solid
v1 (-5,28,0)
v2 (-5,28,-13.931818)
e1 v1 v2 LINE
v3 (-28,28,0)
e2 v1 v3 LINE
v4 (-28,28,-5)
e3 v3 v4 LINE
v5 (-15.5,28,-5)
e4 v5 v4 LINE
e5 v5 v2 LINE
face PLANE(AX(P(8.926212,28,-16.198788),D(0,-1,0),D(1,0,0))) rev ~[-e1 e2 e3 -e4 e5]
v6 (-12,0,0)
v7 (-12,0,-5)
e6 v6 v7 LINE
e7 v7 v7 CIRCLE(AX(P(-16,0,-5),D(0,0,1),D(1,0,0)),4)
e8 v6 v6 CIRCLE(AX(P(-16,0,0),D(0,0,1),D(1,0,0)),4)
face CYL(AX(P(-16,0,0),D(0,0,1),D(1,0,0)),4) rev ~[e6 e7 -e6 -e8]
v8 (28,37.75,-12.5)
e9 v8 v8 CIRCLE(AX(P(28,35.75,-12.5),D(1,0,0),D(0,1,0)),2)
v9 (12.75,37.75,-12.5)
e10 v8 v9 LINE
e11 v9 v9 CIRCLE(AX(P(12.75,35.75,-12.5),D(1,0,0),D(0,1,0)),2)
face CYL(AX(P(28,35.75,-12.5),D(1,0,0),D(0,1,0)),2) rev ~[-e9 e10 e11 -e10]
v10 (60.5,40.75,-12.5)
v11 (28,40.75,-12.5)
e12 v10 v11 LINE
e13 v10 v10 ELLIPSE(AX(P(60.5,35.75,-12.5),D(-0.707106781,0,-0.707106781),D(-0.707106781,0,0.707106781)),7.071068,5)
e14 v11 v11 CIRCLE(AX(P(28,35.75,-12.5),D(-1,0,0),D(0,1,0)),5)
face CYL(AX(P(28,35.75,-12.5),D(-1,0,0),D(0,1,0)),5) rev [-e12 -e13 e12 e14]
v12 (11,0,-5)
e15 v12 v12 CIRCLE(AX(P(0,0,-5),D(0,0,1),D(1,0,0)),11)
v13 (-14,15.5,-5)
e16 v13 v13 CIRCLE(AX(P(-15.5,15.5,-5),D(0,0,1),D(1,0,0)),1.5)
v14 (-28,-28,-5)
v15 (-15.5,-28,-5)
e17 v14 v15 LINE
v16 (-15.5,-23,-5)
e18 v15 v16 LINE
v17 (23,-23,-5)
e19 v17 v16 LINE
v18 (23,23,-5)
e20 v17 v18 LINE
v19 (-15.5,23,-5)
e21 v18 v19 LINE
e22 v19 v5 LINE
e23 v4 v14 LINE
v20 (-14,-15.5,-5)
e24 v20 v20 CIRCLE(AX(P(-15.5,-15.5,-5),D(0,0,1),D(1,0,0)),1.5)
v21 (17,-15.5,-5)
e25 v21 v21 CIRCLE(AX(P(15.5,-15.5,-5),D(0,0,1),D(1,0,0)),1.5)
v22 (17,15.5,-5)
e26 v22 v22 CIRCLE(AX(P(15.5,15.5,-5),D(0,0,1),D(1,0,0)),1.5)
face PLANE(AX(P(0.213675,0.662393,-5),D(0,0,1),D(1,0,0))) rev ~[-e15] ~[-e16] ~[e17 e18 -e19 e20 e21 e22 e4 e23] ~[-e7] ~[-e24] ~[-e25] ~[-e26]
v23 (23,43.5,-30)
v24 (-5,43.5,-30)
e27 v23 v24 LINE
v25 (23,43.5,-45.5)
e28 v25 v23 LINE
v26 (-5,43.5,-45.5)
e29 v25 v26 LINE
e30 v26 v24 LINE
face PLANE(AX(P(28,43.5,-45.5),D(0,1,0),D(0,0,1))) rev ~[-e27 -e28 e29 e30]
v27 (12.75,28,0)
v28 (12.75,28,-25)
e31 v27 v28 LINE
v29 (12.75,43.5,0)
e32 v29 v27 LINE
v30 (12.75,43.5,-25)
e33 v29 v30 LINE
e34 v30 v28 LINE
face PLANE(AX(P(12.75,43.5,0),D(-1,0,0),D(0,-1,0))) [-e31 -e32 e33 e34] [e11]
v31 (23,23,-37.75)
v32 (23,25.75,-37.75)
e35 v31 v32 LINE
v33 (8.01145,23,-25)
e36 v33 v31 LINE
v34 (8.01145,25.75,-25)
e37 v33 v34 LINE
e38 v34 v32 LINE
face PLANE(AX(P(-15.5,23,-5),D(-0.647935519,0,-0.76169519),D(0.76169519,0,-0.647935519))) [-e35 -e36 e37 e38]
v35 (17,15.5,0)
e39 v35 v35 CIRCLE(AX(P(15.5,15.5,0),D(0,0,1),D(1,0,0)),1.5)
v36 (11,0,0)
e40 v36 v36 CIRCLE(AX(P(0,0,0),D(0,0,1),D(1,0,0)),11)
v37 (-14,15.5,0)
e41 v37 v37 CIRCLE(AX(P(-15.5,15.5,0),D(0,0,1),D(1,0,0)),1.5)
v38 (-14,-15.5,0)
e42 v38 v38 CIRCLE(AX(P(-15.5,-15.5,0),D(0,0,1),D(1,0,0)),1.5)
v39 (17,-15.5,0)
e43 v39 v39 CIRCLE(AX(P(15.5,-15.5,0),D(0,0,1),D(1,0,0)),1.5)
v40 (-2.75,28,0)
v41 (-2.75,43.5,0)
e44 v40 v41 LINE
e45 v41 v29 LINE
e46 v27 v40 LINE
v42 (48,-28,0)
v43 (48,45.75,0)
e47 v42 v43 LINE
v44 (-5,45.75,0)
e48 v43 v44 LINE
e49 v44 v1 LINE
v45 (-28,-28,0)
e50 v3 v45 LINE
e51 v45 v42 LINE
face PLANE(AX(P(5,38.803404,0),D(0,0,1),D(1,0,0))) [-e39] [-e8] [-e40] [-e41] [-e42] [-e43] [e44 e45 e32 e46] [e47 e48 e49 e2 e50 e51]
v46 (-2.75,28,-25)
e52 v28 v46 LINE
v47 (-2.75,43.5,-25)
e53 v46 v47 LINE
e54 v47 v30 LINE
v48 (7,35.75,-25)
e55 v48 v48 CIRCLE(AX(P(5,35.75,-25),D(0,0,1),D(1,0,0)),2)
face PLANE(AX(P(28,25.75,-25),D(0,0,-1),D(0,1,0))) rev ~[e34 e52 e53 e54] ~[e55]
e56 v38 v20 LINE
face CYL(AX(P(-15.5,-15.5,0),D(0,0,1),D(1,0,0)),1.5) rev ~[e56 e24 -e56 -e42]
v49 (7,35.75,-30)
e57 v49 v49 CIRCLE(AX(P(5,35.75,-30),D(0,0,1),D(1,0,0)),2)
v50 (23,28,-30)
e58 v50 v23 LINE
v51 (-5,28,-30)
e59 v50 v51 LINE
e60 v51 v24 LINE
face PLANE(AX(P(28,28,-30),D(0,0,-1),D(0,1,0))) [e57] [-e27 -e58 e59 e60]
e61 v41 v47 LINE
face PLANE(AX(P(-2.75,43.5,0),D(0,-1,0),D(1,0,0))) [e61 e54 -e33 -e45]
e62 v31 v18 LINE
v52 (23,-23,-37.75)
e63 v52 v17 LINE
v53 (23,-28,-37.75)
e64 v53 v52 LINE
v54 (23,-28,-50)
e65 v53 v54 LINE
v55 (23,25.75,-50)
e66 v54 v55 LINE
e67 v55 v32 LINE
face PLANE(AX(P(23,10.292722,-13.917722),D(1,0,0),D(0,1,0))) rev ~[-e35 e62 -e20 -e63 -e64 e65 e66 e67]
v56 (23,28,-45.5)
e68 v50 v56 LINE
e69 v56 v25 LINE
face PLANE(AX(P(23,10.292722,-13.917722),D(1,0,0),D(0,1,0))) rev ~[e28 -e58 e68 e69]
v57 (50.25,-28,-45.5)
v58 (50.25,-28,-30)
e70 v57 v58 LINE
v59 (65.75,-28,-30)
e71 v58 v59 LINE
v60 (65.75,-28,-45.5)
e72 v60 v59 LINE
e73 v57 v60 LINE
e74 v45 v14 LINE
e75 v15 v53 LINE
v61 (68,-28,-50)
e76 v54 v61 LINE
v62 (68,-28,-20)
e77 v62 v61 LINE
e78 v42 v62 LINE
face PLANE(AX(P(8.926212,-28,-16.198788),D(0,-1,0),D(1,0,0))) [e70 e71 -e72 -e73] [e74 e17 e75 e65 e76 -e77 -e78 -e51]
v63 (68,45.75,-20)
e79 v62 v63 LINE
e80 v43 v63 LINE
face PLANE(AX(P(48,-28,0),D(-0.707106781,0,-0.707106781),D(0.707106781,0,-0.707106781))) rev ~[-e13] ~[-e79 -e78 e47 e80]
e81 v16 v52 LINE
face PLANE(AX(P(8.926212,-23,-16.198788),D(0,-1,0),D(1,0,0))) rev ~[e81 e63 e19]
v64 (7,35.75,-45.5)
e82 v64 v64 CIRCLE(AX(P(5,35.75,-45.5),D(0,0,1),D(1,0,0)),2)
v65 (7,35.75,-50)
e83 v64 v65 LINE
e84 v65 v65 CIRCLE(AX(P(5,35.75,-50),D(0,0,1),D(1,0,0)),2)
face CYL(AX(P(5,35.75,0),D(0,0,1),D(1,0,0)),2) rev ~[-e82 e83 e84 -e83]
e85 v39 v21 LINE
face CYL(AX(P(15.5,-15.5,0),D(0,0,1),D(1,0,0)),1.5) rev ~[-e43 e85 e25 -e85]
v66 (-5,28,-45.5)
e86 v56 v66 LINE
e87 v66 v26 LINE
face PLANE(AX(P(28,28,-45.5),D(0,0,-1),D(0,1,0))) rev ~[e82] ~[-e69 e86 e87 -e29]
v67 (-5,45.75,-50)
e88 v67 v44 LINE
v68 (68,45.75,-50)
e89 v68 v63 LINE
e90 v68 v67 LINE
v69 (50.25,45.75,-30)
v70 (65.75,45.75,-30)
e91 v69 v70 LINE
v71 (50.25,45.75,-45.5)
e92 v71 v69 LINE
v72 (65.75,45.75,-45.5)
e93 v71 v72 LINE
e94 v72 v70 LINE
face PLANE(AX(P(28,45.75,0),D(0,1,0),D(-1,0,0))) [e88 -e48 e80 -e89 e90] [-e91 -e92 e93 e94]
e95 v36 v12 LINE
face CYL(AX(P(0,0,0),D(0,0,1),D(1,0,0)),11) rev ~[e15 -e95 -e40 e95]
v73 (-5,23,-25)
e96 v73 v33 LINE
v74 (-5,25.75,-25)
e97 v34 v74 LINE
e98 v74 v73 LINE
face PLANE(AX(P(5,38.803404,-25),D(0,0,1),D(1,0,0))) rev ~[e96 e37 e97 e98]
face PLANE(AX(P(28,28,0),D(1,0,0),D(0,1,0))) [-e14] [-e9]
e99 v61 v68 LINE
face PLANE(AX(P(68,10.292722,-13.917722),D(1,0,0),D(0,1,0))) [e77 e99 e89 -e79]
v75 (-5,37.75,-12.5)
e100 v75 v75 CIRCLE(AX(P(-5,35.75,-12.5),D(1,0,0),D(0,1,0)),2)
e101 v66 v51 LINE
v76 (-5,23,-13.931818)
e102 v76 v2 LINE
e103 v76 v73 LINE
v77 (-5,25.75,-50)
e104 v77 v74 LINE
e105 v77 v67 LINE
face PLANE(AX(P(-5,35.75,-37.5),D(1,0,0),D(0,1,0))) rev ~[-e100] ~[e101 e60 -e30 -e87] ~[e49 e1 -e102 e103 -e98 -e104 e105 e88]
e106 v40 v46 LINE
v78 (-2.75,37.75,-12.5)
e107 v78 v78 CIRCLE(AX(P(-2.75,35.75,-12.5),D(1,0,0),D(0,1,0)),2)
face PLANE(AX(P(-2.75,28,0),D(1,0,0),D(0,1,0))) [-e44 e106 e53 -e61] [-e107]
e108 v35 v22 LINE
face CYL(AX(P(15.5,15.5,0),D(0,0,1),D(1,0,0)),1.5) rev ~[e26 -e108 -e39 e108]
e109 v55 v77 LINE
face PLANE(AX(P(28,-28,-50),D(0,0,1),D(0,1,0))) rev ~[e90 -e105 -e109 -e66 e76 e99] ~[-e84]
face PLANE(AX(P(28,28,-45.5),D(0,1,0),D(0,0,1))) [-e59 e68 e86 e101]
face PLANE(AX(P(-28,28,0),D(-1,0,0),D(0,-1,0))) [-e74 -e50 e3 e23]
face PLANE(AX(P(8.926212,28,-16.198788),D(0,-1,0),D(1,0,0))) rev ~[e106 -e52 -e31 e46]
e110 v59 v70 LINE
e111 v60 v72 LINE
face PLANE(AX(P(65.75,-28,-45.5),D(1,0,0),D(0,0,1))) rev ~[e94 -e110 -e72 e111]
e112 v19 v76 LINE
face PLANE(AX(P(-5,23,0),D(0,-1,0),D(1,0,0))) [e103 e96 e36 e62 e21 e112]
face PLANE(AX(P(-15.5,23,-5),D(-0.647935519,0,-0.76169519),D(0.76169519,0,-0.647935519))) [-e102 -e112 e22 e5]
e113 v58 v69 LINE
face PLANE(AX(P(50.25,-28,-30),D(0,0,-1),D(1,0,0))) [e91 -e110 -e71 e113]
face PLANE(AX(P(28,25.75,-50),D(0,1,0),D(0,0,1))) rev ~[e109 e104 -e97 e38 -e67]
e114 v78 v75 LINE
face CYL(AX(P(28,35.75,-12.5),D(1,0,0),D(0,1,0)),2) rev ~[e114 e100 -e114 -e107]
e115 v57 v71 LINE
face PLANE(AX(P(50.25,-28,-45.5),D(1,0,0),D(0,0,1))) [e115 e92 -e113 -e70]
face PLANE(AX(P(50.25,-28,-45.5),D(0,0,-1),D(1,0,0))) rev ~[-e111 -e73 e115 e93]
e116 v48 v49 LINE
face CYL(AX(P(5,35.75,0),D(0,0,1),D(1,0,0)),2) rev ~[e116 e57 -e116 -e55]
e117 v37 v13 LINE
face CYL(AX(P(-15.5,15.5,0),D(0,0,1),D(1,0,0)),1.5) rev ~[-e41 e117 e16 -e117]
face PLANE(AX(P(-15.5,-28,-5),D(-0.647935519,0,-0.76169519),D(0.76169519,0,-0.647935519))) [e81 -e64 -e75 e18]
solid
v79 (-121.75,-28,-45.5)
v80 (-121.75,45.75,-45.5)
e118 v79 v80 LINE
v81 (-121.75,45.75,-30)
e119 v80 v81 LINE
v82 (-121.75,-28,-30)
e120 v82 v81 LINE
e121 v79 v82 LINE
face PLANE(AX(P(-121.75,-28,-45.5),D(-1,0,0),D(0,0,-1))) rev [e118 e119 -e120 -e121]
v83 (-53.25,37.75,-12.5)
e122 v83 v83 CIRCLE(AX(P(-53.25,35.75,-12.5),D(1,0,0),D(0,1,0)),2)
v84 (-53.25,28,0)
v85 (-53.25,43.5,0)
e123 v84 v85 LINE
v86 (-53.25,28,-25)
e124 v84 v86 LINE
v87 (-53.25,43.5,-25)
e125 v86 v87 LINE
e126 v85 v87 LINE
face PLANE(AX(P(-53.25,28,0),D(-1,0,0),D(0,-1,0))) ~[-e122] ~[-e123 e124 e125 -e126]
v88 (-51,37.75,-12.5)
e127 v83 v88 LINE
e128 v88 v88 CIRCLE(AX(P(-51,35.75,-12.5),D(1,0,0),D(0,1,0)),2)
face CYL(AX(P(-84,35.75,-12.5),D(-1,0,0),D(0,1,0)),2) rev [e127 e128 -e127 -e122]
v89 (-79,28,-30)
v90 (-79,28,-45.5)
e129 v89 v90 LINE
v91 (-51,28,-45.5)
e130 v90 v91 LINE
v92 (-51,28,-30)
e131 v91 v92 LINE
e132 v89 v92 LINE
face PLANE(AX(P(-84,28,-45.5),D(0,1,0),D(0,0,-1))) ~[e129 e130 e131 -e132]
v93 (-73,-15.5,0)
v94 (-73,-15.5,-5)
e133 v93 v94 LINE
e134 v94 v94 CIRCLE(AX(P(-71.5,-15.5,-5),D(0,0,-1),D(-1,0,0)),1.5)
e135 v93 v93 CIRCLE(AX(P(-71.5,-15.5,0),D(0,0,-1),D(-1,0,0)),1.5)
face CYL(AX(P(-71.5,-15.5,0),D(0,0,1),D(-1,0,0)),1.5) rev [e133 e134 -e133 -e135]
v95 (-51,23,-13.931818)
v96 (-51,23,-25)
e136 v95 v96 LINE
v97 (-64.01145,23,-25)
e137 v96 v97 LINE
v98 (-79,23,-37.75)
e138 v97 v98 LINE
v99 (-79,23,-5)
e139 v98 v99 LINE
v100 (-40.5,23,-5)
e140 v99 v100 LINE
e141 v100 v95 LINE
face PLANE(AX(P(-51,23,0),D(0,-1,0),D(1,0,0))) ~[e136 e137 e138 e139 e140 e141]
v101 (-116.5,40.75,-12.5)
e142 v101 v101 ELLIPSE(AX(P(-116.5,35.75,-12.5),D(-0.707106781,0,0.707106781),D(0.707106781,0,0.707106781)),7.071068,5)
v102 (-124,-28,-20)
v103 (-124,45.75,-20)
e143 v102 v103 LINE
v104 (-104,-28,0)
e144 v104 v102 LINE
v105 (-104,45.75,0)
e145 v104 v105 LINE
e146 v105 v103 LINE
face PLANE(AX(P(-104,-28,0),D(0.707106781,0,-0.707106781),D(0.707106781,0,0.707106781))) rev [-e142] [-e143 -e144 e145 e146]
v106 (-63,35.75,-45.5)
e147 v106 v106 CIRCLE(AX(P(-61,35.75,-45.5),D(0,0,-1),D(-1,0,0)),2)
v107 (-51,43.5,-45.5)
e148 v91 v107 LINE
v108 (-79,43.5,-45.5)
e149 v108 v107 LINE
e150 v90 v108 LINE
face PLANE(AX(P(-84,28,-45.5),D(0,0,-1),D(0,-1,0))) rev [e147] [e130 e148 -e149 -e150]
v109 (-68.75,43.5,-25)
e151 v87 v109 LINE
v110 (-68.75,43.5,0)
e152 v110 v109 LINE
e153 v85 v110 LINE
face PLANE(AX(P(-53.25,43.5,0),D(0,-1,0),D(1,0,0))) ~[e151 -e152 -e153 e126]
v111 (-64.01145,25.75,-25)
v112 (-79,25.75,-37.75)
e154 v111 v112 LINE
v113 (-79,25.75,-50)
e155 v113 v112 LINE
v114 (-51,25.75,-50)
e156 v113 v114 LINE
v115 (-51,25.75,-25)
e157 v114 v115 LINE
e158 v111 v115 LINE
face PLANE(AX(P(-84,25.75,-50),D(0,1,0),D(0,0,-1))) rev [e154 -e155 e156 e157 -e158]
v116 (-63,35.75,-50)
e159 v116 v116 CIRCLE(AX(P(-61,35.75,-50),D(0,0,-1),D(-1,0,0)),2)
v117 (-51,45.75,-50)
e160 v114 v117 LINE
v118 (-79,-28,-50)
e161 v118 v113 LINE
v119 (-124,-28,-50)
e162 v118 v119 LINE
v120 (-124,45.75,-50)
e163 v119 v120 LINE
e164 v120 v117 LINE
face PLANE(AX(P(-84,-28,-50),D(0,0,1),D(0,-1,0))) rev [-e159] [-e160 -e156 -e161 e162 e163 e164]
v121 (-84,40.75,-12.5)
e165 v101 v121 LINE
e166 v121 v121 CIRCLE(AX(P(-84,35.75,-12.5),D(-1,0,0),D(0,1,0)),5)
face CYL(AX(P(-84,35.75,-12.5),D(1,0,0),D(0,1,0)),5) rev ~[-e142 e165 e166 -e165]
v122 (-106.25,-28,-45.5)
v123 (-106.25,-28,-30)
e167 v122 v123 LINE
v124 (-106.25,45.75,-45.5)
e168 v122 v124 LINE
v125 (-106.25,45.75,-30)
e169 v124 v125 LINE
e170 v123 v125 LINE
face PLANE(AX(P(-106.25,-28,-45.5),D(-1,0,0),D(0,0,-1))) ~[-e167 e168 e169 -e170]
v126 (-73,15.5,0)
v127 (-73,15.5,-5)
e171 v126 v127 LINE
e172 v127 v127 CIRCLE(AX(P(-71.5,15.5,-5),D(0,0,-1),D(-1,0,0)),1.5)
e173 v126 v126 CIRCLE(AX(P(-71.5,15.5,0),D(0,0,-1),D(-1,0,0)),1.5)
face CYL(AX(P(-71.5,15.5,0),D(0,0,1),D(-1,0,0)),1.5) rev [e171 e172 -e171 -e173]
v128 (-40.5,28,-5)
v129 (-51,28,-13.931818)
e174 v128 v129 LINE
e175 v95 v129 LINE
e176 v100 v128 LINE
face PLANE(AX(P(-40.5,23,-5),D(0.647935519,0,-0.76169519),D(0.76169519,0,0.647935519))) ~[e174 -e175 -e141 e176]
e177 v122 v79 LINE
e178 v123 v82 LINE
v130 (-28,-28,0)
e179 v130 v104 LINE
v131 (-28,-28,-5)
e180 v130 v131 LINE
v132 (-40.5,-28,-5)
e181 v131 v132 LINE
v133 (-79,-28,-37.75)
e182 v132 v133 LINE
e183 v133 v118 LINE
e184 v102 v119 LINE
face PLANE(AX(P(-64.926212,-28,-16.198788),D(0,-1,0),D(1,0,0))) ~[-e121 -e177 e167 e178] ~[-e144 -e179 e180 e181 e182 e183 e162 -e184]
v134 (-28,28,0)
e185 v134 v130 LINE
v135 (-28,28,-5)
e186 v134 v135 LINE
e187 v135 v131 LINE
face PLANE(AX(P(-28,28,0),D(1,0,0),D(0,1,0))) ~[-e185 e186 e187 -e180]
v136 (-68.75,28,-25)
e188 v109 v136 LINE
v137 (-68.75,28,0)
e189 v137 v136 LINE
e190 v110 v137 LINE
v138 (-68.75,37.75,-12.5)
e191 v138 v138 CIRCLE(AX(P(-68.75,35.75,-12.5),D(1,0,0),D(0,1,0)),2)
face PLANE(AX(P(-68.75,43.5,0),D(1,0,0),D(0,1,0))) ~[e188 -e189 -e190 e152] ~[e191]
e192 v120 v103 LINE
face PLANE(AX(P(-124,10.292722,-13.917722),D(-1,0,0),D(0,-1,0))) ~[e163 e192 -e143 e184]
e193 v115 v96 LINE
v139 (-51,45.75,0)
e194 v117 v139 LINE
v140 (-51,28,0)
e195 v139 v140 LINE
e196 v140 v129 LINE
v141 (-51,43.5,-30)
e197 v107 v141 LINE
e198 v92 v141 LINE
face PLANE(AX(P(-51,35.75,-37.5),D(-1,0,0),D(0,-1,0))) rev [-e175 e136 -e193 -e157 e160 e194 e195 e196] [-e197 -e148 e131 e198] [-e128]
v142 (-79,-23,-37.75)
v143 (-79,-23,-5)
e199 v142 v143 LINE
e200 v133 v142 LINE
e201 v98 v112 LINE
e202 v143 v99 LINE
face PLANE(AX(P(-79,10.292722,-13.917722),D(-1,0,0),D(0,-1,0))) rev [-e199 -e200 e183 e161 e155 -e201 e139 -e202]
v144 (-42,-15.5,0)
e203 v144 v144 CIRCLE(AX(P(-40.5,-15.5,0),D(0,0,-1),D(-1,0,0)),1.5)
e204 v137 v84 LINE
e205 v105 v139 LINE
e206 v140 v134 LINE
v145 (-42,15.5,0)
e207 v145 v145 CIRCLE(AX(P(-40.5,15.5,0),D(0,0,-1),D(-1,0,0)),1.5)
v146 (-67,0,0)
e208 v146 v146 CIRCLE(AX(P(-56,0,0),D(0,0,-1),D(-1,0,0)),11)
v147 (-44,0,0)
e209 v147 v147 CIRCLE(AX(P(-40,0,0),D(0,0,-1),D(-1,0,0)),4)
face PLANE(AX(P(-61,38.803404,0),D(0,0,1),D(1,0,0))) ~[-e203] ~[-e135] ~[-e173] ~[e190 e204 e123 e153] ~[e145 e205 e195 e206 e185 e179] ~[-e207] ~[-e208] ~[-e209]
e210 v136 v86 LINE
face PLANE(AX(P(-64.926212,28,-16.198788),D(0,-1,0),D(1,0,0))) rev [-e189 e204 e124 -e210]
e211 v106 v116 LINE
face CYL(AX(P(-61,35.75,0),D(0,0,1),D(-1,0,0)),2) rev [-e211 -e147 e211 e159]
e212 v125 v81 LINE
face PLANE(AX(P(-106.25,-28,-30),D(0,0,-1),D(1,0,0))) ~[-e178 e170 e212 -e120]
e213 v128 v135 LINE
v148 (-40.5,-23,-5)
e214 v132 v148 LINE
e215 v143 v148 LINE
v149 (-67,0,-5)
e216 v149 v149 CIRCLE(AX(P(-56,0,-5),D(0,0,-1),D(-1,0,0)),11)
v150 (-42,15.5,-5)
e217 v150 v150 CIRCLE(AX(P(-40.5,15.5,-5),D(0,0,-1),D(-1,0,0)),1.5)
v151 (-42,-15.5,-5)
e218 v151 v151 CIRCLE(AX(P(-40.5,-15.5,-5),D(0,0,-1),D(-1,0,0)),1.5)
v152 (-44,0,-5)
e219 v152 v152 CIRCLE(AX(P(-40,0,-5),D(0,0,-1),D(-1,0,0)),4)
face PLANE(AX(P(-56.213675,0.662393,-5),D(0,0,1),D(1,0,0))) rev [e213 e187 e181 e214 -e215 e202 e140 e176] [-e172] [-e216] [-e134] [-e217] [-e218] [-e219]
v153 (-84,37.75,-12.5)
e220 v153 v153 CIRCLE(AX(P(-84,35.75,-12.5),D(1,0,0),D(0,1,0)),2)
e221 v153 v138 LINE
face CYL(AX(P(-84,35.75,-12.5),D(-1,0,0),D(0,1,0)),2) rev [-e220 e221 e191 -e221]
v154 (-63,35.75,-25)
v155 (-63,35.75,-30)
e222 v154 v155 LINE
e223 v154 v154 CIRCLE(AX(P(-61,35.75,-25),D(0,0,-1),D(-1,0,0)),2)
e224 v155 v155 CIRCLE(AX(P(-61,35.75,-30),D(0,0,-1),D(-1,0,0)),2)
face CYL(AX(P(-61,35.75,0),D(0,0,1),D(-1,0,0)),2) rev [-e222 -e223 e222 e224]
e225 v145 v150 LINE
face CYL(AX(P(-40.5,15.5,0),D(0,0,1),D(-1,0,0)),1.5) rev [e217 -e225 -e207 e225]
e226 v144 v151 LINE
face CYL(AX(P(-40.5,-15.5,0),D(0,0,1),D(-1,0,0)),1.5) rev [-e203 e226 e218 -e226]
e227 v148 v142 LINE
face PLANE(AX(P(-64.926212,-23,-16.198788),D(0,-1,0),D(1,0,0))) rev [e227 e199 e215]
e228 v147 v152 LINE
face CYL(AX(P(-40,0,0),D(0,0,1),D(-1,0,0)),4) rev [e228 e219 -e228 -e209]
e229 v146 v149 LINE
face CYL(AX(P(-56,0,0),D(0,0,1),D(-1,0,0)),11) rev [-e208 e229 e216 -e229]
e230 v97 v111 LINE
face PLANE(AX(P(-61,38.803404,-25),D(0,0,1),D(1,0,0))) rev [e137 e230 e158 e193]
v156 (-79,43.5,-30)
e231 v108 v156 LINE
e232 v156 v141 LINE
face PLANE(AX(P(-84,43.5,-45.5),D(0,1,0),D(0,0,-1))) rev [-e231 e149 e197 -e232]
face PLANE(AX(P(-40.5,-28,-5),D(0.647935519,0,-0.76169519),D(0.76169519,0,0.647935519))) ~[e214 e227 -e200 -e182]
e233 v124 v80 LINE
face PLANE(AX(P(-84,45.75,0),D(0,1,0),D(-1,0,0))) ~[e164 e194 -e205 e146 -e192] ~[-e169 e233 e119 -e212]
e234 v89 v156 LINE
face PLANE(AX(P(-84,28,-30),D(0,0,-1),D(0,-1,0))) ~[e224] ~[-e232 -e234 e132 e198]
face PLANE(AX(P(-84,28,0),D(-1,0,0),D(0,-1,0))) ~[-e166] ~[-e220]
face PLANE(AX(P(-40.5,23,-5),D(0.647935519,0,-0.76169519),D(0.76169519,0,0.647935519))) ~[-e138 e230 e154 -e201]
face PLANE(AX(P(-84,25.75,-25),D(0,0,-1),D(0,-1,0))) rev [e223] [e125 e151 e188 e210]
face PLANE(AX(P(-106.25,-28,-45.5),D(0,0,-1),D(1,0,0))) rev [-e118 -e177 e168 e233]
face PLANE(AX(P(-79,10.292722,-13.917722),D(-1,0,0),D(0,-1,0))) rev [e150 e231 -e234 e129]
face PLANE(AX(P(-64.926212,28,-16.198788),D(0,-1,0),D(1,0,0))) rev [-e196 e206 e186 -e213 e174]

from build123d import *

# Parameters (mm, degrees)
F0_R          = 1.5
F0_R_2        = 4
F0_R_3        = 11
F1_DEPTH      = 5
F2_R          = 5
F2_W          = 56
F2_H          = 5
F2_W_2        = 53.75
F2_H_2        = 25
F2_W_3        = 20
F2_W_4        = 15.5
F2_H_3        = 15.5
F3_DEPTH      = 5
F3_DEPTH_BACK = 40
F4_W          = 15.5
F4_H          = 15.5
F5_DEPTH      = 73.751
F6_DEPTH      = 73.751
F6_DEPTH_BACK = 4
F7_START      = -51
F7_DEPTH      = 5
F8_DEPTH      = 5
F0_W          = 13
F0_H          = 17.75
F9_DEPTH      = 25
F2_R_2        = 2
F10_DEPTH     = 40
F11_DEPTH     = 33
F0_R_4        = 2
F12_DEPTH     = 50.001


with BuildPart() as f1:
    # F0 (on Top) → F1 (new body)
    with BuildSketch(Plane.XY):
        Polygon((28, -28), (28, 28), (15, 28), (15, 23), (-5, 23), (-5, 28), (-28, 28), (-28, -28), align=None)
        with Locations((-15.5, -15.5)):
            Circle(F0_R, mode=Mode.SUBTRACT)
        with Locations((-16, 0)):
            Circle(F0_R_2, mode=Mode.SUBTRACT)
        with Locations((15.5, -15.5)):
            Circle(F0_R, mode=Mode.SUBTRACT)
        Circle(F0_R_3, mode=Mode.SUBTRACT)
        with Locations((-15.5, 15.5)):
            Circle(F0_R, mode=Mode.SUBTRACT)
        with Locations((15.5, 15.5)):
            Circle(F0_R, mode=Mode.SUBTRACT)
        Polygon((15, 23), (15, 28), (12.75, 28), (-2.75, 28), (-5, 28), (-5, 23), align=None)
    extrude(amount=-F1_DEPTH)

    # F2 (on face) → F3 (join, two sides)
    with BuildSketch(Plane.YZ.offset(28)) as f3_sk:
        Polygon((45.75, 0), (28, 0), (28, -5), (-28, -5), (-28, -25), (25.75, -25), (45.75, -25), align=None)
        with Locations((35.75, -12.5)):
            Circle(F2_R, mode=Mode.SUBTRACT)
        with Locations((0, -2.5)):
            Rectangle(F2_W, F2_H)
        with Locations((-1.125, -37.5)):
            Rectangle(F2_W_2, F2_H_2)
        with Locations((35.75, -37.5)):
            Rectangle(F2_W_3, F2_H_2)
        with Locations((35.75, -37.75)):
            Rectangle(F2_W_4, F2_H_3, mode=Mode.SUBTRACT)
        with Locations((35.75, -37.75)):
            Rectangle(F2_W_4, F2_H_3)
    extrude(amount=-F3_DEPTH)
    extrude(f3_sk.sketch, amount=F3_DEPTH_BACK)

    # F4 (on face) → F5 (cut, through all)
    with BuildSketch(Plane.XZ.offset(28)):
        with Locations((58, -37.75)):
            Rectangle(F4_W, F4_H)
    extrude(amount=-F5_DEPTH, mode=Mode.SUBTRACT)

    # F4 (on face) → F6 (cut, two sides)
    with BuildSketch(Plane.XZ.offset(28)) as f6_sk:
        Polygon((48, 0), (68, -20), (68, 0), align=None)
    extrude(amount=-F6_DEPTH, mode=Mode.SUBTRACT)
    extrude(f6_sk.sketch, amount=F6_DEPTH_BACK, mode=Mode.SUBTRACT)

    # F4 (on face) → F7 (join)
    with BuildSketch(Plane.XZ.offset(28).offset(F7_START)):
        Polygon((-15.5, -5), (23, -37.75), (23, -5), align=None)
    extrude(amount=-F7_DEPTH)

    # F4 (on face) → F8 (join)
    with BuildSketch(Plane.XZ.offset(28)):
        Polygon((-15.5, -5), (23, -37.75), (23, -5), align=None)
    extrude(amount=-F8_DEPTH)

    # F0 (on Top) → F9 (join)
    with BuildSketch(Plane.XY):
        Polygon((12.75, 28), (15, 28), (15, 45.75), (-5, 45.75), (-5, 28), (-2.75, 28), (-2.75, 43.5), (12.75, 43.5), align=None)
        Polygon((15, 23), (15, 28), (12.75, 28), (-2.75, 28), (-5, 28), (-5, 23), align=None)
        with Locations((21.5, 36.875)):
            Rectangle(F0_W, F0_H)
    extrude(amount=-F9_DEPTH)

    # F2 (on face) → F10 (cut)
    with BuildSketch(Plane.YZ.offset(28)):
        with Locations((35.75, -12.5)):
            Circle(F2_R_2)
    extrude(amount=-F10_DEPTH, mode=Mode.SUBTRACT)

    # F2 (on face) → F11 (join)
    with BuildSketch(Plane.YZ.offset(28)):
        with Locations((35.75, -37.5)):
            Rectangle(F2_W_3, F2_H_2)
        with Locations((35.75, -37.75)):
            Rectangle(F2_W_4, F2_H_3, mode=Mode.SUBTRACT)
    extrude(amount=-F11_DEPTH)

    # F0 (on Top) → F12 (cut, through all)
    with BuildSketch(Plane.XY):
        with Locations((5, 35.75)):
            Circle(F0_R_4)
    extrude(amount=-F12_DEPTH, mode=Mode.SUBTRACT)


with BuildPart() as f13_1:
    # F13: instance of F1
    add(f1.part.mirror(Plane(origin=(-28, 0, -2.5), x_dir=(0, -1, 0), z_dir=(-1, 0, 0))))


solid = Compound([f1.part, f13_1.part])
